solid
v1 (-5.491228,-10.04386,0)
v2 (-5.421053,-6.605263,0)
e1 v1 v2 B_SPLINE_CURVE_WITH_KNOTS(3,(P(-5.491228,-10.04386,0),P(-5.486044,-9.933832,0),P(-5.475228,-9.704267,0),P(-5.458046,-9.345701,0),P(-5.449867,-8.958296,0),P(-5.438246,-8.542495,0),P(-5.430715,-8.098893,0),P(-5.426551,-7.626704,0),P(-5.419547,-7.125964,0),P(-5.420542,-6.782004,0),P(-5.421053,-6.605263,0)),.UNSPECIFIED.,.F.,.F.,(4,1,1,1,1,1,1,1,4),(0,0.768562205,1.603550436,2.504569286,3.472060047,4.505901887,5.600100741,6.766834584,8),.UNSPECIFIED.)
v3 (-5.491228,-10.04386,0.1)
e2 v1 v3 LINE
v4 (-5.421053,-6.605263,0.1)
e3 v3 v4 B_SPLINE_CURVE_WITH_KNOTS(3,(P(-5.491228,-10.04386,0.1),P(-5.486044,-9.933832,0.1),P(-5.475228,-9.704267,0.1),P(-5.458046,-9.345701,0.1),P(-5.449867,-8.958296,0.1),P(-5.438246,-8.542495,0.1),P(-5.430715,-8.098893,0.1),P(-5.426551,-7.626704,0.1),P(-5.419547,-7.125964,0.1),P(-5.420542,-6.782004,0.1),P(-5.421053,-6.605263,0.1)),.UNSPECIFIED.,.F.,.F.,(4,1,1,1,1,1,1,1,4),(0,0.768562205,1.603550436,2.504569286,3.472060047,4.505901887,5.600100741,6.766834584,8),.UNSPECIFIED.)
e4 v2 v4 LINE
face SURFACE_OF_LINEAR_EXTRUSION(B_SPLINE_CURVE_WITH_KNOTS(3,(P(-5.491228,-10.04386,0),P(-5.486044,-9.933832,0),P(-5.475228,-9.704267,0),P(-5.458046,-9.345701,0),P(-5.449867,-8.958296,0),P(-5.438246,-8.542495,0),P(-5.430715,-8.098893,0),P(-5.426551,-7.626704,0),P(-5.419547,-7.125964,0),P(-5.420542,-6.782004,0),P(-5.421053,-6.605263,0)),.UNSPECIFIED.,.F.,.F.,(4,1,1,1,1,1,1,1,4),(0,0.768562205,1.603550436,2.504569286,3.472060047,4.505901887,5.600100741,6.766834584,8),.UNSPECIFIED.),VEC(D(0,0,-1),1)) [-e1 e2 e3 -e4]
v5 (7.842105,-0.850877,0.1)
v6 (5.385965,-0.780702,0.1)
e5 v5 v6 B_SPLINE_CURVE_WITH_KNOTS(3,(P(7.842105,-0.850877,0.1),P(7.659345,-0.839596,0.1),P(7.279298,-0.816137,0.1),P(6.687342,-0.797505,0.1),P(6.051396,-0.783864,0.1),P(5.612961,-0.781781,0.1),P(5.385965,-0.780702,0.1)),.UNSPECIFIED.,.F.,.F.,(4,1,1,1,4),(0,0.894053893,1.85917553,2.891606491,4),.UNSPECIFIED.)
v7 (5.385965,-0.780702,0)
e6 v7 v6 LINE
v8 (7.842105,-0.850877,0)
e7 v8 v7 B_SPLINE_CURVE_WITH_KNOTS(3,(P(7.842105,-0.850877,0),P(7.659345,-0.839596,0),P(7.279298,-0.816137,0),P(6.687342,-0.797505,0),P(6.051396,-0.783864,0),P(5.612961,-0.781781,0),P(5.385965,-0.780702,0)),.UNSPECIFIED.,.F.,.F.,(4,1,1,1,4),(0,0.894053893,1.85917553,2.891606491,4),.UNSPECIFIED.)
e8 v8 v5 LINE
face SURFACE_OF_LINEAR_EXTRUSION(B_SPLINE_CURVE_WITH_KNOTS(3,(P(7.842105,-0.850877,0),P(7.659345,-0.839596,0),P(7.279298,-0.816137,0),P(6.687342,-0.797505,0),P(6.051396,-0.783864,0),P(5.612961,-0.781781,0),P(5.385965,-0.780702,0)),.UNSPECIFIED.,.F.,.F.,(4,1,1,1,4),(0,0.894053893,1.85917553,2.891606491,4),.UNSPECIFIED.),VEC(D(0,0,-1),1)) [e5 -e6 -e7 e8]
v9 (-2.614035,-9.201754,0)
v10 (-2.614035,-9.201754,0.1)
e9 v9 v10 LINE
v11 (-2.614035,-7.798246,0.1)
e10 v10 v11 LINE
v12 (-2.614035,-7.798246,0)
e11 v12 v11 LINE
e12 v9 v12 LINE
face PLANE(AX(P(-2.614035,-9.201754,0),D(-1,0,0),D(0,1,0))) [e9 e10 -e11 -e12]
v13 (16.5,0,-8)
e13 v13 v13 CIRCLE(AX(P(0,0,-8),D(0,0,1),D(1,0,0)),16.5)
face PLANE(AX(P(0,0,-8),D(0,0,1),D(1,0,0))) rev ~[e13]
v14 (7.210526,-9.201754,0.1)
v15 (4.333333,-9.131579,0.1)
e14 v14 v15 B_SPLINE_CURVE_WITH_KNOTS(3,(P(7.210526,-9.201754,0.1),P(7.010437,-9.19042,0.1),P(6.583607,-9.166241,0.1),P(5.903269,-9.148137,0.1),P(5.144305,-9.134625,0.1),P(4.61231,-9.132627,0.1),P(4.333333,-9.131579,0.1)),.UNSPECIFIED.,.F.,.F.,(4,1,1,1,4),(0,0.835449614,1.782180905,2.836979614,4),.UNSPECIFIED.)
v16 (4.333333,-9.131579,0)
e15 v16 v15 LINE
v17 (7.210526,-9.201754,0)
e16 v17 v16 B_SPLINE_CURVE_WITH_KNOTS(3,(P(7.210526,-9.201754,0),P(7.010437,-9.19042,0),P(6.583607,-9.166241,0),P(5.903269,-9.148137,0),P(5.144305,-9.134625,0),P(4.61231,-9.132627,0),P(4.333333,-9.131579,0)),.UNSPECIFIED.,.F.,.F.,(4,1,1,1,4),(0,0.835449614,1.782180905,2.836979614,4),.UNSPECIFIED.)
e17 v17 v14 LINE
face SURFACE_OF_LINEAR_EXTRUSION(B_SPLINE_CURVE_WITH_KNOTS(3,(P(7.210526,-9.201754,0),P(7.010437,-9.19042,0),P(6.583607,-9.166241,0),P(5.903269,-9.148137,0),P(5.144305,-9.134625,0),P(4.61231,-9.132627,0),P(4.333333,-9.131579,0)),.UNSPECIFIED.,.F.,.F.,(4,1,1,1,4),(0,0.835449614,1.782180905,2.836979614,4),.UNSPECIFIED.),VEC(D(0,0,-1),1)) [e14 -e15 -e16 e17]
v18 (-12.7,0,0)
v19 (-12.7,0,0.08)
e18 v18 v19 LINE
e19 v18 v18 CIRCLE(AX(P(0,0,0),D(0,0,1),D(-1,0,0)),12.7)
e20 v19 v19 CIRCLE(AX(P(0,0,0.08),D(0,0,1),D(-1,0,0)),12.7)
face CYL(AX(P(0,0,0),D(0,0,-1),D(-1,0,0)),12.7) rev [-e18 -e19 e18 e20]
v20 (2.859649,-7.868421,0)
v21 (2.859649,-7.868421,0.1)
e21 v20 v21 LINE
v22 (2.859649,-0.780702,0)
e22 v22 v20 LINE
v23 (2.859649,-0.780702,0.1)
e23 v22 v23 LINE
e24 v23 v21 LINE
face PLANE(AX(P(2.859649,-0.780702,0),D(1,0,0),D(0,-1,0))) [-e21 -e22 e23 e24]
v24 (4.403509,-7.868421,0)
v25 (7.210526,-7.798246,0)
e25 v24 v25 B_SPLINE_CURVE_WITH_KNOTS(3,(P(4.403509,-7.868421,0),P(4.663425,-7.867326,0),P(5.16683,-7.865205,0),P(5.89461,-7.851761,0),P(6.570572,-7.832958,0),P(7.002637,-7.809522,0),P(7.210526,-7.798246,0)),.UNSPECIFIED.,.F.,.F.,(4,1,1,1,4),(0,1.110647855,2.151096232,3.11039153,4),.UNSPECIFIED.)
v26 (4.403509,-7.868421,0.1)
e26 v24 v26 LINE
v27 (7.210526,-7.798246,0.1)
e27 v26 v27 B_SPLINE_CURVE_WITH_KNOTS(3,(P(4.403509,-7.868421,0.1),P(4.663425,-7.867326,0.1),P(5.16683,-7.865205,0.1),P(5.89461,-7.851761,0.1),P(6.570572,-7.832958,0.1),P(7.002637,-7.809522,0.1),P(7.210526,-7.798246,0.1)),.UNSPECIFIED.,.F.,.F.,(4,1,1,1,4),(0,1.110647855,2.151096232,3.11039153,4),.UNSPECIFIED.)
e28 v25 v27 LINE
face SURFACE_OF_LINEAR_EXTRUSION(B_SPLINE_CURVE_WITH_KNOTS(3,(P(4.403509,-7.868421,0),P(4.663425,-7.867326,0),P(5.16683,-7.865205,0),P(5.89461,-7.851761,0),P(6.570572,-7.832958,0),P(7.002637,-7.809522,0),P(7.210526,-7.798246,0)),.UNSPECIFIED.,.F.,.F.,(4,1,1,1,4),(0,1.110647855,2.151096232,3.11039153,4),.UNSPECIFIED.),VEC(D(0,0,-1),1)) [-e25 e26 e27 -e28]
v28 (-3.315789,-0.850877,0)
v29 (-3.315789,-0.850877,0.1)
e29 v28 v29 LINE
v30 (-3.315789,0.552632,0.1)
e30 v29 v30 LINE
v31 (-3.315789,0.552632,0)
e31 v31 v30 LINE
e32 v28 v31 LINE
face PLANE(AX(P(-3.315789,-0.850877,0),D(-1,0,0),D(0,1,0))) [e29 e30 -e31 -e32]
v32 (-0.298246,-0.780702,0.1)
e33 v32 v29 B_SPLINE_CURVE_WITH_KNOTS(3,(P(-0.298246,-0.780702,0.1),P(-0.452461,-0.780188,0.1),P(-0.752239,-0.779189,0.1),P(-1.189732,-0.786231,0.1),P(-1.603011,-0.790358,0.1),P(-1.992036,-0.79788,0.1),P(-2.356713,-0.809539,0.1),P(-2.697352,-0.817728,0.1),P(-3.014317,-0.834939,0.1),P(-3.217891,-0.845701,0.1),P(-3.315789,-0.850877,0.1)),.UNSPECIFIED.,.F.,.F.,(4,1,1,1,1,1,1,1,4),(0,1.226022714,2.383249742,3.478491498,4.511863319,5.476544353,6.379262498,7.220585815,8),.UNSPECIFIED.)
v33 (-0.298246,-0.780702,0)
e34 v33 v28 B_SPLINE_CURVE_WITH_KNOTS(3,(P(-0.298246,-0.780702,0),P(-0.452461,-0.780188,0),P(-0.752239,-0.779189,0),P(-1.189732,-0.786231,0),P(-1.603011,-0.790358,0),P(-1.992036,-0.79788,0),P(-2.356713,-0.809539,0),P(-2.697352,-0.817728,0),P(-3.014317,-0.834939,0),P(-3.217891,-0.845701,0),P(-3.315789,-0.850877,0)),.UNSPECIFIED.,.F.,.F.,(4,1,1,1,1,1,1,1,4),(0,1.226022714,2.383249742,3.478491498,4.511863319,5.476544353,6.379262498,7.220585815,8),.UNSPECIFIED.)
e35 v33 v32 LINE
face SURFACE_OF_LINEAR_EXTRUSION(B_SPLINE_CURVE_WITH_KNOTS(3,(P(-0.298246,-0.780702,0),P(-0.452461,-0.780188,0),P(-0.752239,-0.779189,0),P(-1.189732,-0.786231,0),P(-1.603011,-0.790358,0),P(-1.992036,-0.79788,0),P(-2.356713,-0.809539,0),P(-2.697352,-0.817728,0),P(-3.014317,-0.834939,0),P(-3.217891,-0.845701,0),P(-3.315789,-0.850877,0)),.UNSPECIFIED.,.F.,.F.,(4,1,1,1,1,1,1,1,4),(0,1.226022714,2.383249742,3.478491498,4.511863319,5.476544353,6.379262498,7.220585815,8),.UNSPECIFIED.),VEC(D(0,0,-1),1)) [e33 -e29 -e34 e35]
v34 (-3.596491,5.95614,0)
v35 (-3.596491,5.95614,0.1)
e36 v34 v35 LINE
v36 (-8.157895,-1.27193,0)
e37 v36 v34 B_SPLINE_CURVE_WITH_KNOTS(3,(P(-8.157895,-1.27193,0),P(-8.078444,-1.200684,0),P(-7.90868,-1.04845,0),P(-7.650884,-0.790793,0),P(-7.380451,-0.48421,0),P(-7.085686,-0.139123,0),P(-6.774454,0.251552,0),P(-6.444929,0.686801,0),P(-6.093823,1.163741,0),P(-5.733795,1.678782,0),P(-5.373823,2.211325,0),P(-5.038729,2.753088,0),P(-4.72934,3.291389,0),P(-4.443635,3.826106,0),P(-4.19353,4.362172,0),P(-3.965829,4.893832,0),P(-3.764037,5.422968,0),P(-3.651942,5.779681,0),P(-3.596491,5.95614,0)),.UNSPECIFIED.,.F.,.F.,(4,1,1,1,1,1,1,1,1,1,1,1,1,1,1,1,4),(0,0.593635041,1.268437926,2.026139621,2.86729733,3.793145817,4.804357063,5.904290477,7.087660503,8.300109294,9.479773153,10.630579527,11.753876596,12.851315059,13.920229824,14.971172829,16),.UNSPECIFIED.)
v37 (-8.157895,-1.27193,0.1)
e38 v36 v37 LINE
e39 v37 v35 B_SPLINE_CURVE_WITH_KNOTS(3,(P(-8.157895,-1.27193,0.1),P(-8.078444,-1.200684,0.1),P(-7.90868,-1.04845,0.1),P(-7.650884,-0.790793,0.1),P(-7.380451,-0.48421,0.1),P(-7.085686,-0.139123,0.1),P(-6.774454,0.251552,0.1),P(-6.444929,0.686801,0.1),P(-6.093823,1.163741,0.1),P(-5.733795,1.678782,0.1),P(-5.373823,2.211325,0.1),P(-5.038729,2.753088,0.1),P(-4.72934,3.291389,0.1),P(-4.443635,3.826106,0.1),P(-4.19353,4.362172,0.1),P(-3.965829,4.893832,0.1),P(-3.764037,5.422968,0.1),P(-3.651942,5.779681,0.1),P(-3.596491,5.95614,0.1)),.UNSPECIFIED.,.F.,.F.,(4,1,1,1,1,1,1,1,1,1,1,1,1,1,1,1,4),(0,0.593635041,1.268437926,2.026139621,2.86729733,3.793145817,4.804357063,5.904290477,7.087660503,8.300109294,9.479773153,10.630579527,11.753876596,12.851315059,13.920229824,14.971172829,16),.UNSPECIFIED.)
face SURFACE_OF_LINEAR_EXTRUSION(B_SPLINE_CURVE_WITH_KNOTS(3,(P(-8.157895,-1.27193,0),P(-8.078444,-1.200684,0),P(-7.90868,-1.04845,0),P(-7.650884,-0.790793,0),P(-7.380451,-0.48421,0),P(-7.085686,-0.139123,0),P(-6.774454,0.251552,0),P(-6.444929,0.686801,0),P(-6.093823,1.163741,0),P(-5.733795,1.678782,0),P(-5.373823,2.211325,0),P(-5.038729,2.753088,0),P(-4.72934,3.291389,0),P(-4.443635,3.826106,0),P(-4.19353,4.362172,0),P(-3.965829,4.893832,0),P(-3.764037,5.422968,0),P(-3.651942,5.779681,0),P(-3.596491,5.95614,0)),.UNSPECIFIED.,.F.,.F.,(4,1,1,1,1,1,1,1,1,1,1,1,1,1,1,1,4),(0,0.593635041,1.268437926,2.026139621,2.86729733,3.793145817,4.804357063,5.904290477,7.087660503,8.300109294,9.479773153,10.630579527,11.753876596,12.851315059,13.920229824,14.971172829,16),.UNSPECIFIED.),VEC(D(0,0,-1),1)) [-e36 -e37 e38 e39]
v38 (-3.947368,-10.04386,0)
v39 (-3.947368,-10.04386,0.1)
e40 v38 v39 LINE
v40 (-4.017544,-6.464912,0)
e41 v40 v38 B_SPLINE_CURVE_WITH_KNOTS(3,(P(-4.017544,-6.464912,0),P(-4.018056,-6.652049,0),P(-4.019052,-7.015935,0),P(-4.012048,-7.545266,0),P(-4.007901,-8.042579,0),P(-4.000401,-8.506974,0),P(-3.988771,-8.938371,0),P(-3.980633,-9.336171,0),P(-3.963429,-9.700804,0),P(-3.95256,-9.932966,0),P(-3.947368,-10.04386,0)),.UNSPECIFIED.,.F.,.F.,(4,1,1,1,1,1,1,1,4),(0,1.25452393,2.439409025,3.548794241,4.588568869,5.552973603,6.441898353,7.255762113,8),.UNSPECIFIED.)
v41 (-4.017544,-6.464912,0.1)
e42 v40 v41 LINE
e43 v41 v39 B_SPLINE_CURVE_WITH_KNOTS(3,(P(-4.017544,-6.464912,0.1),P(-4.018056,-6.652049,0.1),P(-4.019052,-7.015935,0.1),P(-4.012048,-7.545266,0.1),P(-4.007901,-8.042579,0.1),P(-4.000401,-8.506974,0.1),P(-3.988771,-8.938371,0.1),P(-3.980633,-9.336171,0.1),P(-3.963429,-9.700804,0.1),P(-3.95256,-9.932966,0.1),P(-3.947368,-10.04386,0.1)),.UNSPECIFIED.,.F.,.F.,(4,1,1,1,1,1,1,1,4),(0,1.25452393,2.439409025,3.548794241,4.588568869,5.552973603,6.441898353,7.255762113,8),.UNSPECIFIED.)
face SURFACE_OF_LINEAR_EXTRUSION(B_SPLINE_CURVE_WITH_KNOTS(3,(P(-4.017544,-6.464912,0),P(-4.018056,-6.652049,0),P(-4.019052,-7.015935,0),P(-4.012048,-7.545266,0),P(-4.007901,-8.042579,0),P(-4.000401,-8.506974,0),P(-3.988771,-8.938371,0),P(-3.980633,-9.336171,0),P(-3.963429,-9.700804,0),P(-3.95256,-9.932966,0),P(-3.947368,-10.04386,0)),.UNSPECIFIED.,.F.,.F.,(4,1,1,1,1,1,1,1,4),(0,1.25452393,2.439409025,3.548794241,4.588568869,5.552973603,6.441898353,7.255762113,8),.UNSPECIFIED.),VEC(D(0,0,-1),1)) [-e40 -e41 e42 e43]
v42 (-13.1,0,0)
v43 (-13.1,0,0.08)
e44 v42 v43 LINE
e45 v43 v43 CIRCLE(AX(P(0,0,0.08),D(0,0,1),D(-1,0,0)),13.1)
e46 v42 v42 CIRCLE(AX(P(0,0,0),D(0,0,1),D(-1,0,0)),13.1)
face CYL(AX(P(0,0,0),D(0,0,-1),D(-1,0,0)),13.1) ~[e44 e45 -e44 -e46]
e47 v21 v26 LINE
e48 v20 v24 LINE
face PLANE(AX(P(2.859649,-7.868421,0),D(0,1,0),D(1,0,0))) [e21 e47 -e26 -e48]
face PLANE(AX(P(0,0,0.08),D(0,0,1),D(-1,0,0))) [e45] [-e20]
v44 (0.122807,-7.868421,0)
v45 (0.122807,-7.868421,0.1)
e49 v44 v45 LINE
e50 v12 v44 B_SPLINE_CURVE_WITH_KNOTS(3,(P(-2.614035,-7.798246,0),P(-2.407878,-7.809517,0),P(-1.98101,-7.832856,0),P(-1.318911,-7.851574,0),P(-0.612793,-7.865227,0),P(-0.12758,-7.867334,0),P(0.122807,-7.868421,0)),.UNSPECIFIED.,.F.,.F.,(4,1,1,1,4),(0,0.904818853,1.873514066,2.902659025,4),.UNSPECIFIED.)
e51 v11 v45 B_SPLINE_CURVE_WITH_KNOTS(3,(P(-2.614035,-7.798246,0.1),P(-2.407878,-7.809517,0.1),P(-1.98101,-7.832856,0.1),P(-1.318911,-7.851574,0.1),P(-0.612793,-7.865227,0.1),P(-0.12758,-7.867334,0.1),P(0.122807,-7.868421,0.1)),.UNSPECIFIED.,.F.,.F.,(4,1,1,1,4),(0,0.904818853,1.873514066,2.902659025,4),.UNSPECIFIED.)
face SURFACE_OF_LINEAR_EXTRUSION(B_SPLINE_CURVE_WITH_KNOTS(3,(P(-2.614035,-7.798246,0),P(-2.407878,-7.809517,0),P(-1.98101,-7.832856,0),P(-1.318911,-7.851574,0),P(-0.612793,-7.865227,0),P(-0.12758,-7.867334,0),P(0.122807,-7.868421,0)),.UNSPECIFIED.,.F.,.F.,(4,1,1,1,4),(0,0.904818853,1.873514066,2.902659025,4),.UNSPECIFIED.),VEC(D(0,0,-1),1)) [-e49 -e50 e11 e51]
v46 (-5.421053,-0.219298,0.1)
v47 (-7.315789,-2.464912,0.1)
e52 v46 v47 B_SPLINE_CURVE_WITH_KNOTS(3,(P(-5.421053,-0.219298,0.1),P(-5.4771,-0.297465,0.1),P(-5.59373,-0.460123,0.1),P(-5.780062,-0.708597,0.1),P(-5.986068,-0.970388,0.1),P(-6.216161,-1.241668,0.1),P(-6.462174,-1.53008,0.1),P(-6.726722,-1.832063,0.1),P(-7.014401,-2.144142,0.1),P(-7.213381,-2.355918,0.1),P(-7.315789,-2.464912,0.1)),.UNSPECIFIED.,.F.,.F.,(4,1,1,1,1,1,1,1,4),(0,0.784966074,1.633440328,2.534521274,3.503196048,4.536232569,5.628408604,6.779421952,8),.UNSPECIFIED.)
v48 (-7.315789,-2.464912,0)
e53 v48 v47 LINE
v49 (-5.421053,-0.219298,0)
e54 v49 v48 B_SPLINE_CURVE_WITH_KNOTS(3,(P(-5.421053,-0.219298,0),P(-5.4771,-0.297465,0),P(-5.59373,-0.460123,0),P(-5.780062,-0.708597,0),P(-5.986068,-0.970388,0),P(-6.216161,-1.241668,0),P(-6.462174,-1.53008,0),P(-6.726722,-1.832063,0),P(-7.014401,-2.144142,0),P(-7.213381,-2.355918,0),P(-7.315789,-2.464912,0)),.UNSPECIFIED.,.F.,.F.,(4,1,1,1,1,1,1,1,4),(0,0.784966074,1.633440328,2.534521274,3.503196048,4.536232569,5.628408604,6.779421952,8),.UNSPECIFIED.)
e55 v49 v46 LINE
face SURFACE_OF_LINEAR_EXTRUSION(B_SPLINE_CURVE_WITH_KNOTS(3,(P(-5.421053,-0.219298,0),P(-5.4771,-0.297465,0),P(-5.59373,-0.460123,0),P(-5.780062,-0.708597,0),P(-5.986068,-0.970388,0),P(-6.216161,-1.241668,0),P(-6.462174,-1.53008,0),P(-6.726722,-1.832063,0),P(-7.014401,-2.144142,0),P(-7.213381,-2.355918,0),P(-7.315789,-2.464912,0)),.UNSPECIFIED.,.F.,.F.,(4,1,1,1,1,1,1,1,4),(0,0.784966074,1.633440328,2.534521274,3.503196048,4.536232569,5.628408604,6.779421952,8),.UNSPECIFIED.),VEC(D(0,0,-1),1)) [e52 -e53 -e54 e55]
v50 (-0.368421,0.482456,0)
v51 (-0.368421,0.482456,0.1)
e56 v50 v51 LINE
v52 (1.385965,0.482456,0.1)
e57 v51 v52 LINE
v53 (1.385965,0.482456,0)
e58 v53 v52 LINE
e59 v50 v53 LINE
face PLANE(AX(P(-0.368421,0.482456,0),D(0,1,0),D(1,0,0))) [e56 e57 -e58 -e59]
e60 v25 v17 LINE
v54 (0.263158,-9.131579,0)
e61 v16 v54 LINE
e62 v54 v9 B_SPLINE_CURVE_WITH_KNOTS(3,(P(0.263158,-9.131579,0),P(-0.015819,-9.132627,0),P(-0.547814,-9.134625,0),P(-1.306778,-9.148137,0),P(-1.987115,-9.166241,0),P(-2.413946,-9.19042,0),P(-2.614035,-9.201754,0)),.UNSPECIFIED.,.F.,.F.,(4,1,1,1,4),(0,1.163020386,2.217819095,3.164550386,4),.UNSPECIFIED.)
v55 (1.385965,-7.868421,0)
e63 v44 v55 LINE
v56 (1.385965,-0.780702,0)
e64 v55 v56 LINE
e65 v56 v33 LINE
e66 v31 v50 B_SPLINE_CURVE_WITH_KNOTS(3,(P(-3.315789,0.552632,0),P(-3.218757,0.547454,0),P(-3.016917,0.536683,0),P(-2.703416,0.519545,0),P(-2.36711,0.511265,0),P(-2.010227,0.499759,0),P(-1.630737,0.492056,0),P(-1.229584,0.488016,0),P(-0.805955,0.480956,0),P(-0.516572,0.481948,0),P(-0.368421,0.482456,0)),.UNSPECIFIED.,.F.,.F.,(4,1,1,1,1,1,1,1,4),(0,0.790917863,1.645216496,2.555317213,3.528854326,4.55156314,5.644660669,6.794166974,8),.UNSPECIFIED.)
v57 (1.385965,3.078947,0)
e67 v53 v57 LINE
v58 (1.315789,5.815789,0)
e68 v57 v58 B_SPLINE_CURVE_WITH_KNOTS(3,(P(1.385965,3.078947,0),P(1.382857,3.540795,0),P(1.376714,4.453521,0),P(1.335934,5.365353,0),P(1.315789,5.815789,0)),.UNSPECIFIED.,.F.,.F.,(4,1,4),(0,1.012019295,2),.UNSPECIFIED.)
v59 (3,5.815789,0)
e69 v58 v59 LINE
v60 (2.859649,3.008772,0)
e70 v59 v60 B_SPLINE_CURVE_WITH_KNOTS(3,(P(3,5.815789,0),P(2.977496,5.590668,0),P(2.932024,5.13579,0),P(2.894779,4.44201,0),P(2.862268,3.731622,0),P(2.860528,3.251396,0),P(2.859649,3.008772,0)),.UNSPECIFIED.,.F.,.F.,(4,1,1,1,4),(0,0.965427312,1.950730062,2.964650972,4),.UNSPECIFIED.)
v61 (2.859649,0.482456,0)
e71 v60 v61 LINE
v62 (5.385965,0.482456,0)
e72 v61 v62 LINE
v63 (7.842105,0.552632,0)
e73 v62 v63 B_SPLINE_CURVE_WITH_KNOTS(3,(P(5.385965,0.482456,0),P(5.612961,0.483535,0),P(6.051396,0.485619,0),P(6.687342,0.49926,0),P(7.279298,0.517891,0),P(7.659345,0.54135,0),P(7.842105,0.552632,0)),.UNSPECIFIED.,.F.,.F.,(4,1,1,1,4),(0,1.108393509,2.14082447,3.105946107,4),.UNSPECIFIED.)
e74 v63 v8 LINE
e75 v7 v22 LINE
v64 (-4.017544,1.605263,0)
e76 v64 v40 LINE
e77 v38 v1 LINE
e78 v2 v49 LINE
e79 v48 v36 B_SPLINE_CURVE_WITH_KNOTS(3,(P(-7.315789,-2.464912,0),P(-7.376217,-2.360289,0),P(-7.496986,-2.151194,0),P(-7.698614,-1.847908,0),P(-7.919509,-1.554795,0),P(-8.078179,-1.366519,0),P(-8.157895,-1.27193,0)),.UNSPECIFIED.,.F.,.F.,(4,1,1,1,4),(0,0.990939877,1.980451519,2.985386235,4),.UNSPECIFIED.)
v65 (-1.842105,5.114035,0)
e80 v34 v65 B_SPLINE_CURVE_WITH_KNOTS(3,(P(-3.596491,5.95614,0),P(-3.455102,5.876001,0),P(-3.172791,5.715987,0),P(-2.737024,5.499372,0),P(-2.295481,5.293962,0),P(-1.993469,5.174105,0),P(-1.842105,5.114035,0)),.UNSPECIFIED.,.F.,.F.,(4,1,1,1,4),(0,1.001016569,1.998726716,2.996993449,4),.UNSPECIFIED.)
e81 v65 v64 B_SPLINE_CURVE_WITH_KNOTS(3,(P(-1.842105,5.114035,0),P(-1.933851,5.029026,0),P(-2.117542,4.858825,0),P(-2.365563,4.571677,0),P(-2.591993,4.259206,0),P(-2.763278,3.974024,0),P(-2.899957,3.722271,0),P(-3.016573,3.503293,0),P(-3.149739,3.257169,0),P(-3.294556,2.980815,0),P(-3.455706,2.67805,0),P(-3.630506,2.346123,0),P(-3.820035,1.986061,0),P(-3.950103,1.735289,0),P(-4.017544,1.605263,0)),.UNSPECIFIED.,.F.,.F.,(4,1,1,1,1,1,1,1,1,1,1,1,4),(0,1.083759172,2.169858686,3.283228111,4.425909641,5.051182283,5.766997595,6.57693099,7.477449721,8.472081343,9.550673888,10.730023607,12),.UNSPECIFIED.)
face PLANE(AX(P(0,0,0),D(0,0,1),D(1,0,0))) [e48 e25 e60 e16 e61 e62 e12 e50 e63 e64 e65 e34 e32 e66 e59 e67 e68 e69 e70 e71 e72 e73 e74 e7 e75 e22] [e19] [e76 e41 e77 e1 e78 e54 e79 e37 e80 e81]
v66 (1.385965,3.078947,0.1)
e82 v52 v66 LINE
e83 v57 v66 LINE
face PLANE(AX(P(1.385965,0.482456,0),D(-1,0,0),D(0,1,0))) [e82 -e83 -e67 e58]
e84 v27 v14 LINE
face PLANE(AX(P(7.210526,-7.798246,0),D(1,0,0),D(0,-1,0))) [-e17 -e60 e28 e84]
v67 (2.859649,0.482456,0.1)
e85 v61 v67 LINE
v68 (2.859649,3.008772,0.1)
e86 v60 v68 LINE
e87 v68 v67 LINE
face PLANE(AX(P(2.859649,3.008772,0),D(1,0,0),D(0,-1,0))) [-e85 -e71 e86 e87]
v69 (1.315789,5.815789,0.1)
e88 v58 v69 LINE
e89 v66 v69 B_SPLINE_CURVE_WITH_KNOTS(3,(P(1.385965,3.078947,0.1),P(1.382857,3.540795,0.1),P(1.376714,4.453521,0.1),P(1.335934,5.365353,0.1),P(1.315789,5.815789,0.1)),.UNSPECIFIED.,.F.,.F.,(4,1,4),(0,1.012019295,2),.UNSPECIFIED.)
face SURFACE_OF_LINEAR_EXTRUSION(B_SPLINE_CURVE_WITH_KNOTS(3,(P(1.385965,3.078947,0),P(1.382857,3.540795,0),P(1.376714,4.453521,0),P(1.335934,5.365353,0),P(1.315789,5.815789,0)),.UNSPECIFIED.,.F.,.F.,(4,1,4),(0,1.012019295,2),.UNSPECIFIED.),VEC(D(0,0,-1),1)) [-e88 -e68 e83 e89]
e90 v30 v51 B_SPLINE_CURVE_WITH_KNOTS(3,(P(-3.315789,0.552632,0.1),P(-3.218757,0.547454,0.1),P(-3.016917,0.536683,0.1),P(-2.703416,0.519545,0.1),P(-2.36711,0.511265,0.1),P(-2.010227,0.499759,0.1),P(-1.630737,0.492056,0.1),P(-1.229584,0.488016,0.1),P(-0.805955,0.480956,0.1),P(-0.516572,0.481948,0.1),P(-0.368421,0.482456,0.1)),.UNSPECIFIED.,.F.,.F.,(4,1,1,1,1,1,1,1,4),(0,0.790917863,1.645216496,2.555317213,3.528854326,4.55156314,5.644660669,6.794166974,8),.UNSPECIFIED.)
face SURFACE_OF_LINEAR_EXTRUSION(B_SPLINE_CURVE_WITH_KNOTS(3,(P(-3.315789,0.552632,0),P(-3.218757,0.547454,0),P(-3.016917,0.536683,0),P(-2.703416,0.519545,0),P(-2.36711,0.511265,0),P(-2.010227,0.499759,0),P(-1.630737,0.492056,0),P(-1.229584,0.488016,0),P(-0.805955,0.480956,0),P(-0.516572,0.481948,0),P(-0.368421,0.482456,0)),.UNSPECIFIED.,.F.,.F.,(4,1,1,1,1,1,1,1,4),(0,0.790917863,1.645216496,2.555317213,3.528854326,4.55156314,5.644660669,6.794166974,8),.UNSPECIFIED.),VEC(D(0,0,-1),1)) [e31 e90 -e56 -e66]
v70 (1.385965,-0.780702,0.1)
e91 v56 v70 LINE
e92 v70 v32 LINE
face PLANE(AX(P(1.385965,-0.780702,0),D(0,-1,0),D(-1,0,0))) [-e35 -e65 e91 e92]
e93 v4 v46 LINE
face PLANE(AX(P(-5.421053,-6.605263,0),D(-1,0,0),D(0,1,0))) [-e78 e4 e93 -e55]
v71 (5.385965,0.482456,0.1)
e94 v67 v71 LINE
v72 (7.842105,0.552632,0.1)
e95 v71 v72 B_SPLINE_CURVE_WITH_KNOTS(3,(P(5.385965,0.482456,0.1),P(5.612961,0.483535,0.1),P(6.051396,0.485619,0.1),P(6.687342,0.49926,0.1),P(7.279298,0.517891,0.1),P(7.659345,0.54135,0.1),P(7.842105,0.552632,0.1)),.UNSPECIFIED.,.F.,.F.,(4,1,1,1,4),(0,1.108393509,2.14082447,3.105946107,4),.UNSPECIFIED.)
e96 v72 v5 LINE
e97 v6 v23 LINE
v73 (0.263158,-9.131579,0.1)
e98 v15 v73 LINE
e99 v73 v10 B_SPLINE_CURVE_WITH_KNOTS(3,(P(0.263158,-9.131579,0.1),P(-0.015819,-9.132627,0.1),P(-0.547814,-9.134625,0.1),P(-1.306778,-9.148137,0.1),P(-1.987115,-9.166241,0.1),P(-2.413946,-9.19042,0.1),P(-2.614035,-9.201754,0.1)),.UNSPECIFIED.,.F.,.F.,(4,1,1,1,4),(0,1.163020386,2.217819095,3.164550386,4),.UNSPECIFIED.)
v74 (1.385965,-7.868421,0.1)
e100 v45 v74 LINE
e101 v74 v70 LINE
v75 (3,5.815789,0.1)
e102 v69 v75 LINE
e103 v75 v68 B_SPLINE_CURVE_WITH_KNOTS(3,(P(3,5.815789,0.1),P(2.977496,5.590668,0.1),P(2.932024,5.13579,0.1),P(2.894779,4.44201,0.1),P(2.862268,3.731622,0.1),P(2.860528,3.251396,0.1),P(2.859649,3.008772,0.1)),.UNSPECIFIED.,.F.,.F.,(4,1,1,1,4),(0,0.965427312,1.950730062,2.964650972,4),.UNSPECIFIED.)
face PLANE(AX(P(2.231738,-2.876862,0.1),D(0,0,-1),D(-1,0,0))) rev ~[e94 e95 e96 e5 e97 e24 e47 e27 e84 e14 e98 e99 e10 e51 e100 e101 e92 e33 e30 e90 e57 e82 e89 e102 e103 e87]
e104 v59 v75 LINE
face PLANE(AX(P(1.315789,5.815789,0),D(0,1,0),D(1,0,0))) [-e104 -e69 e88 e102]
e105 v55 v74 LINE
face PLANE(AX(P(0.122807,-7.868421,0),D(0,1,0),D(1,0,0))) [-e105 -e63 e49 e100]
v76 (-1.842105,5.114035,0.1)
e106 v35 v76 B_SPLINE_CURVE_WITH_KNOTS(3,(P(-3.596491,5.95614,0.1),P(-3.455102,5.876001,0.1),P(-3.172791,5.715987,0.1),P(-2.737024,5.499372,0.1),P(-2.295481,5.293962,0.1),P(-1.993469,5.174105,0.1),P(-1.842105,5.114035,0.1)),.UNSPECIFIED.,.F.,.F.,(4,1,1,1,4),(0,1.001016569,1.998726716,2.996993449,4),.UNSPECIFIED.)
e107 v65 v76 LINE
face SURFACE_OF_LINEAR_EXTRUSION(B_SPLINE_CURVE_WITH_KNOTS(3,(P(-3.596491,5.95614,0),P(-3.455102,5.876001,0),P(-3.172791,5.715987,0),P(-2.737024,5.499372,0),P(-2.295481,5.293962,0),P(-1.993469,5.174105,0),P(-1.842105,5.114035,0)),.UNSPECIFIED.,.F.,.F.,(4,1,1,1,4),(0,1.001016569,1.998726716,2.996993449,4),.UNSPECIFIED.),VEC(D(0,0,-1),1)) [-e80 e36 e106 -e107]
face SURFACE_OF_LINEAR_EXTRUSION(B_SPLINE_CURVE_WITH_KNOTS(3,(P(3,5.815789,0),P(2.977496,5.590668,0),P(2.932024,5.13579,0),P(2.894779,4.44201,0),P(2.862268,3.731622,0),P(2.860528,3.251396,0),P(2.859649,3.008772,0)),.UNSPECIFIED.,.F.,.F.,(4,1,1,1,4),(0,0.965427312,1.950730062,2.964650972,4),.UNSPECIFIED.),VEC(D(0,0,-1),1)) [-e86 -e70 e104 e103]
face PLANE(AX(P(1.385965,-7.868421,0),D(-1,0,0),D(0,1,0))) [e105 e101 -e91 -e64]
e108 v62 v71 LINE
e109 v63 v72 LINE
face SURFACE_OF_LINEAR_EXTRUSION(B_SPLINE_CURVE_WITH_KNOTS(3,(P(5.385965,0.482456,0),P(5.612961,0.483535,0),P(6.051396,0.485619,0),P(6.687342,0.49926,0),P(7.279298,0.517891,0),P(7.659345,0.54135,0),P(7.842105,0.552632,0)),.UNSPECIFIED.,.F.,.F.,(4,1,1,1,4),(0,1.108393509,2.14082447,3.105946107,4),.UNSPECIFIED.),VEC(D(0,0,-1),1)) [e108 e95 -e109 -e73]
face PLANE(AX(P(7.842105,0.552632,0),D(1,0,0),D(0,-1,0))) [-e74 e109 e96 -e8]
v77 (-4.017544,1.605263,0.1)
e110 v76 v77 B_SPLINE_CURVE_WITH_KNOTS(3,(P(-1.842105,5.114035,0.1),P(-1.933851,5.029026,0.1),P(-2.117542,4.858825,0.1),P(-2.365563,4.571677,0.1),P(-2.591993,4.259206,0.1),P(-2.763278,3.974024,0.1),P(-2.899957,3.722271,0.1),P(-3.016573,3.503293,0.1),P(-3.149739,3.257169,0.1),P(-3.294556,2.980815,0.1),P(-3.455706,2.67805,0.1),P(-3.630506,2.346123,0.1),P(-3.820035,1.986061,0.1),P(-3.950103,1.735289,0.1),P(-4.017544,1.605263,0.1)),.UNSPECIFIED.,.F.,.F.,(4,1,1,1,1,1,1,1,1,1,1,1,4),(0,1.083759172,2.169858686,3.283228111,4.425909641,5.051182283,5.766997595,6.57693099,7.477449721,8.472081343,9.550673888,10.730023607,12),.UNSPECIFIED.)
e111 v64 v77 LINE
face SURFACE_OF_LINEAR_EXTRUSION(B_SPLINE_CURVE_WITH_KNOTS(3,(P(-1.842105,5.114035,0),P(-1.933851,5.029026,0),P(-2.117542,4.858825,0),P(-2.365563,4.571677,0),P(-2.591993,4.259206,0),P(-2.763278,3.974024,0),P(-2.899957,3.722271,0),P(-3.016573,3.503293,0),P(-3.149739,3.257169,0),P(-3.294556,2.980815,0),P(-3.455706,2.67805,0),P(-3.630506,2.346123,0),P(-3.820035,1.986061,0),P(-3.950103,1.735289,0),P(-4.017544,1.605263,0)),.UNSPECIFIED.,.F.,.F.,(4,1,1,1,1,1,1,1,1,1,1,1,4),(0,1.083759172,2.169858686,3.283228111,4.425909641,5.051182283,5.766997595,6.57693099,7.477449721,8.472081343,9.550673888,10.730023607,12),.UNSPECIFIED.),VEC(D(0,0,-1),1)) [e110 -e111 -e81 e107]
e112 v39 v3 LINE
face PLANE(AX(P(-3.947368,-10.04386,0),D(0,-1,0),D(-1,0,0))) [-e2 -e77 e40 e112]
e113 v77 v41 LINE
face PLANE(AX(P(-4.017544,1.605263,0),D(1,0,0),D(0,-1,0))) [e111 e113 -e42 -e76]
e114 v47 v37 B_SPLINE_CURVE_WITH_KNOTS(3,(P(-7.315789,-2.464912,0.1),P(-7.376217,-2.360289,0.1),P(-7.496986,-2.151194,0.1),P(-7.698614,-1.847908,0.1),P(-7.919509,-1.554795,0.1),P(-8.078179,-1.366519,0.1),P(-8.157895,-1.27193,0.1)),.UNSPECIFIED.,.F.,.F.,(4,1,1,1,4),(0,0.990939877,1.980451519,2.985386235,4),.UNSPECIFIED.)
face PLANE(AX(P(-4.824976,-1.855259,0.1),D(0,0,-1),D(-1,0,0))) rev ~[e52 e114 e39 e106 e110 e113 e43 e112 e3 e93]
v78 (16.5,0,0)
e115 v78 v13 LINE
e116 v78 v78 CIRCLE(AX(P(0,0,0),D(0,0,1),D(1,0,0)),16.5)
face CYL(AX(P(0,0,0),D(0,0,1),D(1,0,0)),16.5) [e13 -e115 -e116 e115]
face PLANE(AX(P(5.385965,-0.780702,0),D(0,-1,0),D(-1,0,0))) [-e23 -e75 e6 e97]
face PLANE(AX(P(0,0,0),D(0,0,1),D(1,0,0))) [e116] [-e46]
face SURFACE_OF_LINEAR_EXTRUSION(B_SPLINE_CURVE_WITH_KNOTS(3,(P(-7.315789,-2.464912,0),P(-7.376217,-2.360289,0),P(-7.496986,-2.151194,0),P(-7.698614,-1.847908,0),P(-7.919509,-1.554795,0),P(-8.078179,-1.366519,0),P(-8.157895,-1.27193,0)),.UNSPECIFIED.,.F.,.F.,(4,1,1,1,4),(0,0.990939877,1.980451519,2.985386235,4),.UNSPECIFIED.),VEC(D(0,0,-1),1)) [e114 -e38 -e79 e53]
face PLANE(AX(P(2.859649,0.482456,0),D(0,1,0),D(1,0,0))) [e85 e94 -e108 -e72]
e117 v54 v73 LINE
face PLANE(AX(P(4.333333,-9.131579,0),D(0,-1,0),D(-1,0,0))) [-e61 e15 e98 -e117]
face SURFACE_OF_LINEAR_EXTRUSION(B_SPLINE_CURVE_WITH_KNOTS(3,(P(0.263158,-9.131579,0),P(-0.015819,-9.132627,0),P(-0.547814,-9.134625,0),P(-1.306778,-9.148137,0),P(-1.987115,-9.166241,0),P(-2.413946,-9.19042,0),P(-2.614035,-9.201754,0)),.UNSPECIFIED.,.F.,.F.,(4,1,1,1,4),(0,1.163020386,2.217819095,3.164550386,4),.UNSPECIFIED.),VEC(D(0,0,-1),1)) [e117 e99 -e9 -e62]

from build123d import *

# Parameters (mm, degrees)
SKETCH_1_R               = 16.5
DIAMETER33_HEIGHT8_DEPTH = 8
CHARACTER_DEPTH          = 0.1
SKETCH_3_R               = 13.1
SKETCH_3_R_2             = 12.7
INK_RING_DEPTH           = 0.08


with BuildPart() as part:
    # 草图1 → Diameter33_Height8 (new body)
    with BuildSketch(Plane.XY):
        Circle(SKETCH_1_R)
    extrude(amount=-DIAMETER33_HEIGHT8_DEPTH)

    # 草图2 → Character_仕 (add)
    with BuildSketch(Plane.XY):
        with BuildLine():
            Line((1.385964912, 0.48245614), (1.385964912, 3.078947368))
            add(Edge.make_bspline(
                [(1.385964912, 3.078947368), (1.382856556, 3.540795331), (1.376713677, 4.453520939), (1.335934161, 5.365353156), (1.315789474, 5.815789474)],
                knots=[0, 0, 0, 0, 1.012019295, 2, 2, 2, 2], degree=3))
            Line((1.315789474, 5.815789474), (3, 5.815789474))
            add(Edge.make_bspline(
                [(3, 5.815789474), (2.977495606, 5.590667791), (2.932023515, 5.135789802), (2.894778649, 4.442009997), (2.862268379, 3.73162247), (2.860528273, 3.251395934), (2.859649123, 3.00877193)],
                knots=[0, 0, 0, 0, 0.965427312, 1.950730062, 2.964650972, 4, 4, 4, 4], degree=3))
            Line((2.859649123, 3.00877193), (2.859649123, 0.48245614))
            Line((2.859649123, 0.48245614), (5.385964912, 0.48245614))
            add(Edge.make_bspline(
                [(5.385964912, 0.48245614), (5.612960978, 0.48353494), (6.051396179, 0.485618604), (6.68734214, 0.499259504), (7.279297852, 0.517890937), (7.659345282, 0.541350279), (7.842105263, 0.552631579)],
                knots=[0, 0, 0, 0, 1.108393509, 2.14082447, 3.105946107, 4, 4, 4, 4], degree=3))
            Line((7.842105263, 0.552631579), (7.842105263, -0.850877193))
            add(Edge.make_bspline(
                [(7.842105263, -0.850877193), (7.659345282, -0.839595893), (7.279297852, -0.816136551), (6.68734214, -0.797505118), (6.051396179, -0.783864218), (5.612960978, -0.781780554), (5.385964912, -0.780701754)],
                knots=[0, 0, 0, 0, 0.894053893, 1.85917553, 2.891606491, 4, 4, 4, 4], degree=3))
            Line((5.385964912, -0.780701754), (2.859649123, -0.780701754))
            Line((2.859649123, -0.780701754), (2.859649123, -7.868421053))
            Line((2.859649123, -7.868421053), (4.403508772, -7.868421053))
            add(Edge.make_bspline(
                [(4.403508772, -7.868421053), (4.663425226, -7.867326084), (5.166829886, -7.865205357), (5.894610336, -7.851761208), (6.570572064, -7.832958173), (7.00263653, -7.809522024), (7.210526316, -7.798245614)],
                knots=[0, 0, 0, 0, 1.110647855, 2.151096232, 3.11039153, 4, 4, 4, 4], degree=3))
            Line((7.210526316, -7.798245614), (7.210526316, -9.201754386))
            add(Edge.make_bspline(
                [(7.210526316, -9.201754386), (7.010437031, -9.190419998), (6.583606619, -9.166241483), (5.90326924, -9.148137401), (5.144305253, -9.134624919), (4.612310457, -9.132626772), (4.333333333, -9.131578947)],
                knots=[0, 0, 0, 0, 0.835449614, 1.782180905, 2.836979614, 4, 4, 4, 4], degree=3))
            Line((4.333333333, -9.131578947), (0.263157895, -9.131578947))
            add(Edge.make_bspline(
                [(0.263157895, -9.131578947), (-0.015819229, -9.132626772), (-0.547814025, -9.134624919), (-1.306778012, -9.148137401), (-1.987115391, -9.166241483), (-2.413945803, -9.190419998), (-2.614035088, -9.201754386)],
                knots=[0, 0, 0, 0, 1.163020386, 2.217819095, 3.164550386, 4, 4, 4, 4], degree=3))
            Line((-2.614035088, -9.201754386), (-2.614035088, -7.798245614))
            add(Edge.make_bspline(
                [(-2.614035088, -7.798245614), (-2.407878143, -7.809517208), (-1.981010451, -7.832856124), (-1.318910587, -7.851574268), (-0.61279286, -7.865227274), (-0.127579839, -7.86733394), (0.122807018, -7.868421053)],
                knots=[0, 0, 0, 0, 0.904818853, 1.873514066, 2.902659025, 4, 4, 4, 4], degree=3))
            Line((0.122807018, -7.868421053), (1.385964912, -7.868421053))
            Line((1.385964912, -7.868421053), (1.385964912, -0.780701754))
            Line((1.385964912, -0.780701754), (-0.298245614, -0.780701754))
            add(Edge.make_bspline(
                [(-0.298245614, -0.780701754), (-0.452461393, -0.780188061), (-0.752239456, -0.7791895), (-1.189731892, -0.786231443), (-1.603011279, -0.790357704), (-1.992035716, -0.797879868), (-2.356713286, -0.809539056), (-2.697351984, -0.817728412), (-3.014316789, -0.834938878), (-3.217890625, -0.845701458), (-3.315789474, -0.850877193)],
                knots=[0, 0, 0, 0, 1.226022714, 2.383249742, 3.478491498, 4.511863319, 5.476544353, 6.379262498, 7.220585815, 8, 8, 8, 8], degree=3))
            Line((-3.315789474, -0.850877193), (-3.315789474, 0.552631579))
            add(Edge.make_bspline(
                [(-3.315789474, 0.552631579), (-3.21875707, 0.547453703), (-3.016916501, 0.536683017), (-2.703415706, 0.519544836), (-2.367110401, 0.511265445), (-2.010227251, 0.49975938), (-1.630736813, 0.492055864), (-1.229584063, 0.488016267), (-0.805954579, 0.480955843), (-0.51657237, 0.481948131), (-0.368421053, 0.48245614)],
                knots=[0, 0, 0, 0, 0.790917863, 1.645216496, 2.555317213, 3.528854326, 4.55156314, 5.644660669, 6.794166974, 8, 8, 8, 8], degree=3))
            Line((-0.368421053, 0.48245614), (1.385964912, 0.48245614))
        make_face()
        with BuildLine():
            add(Edge.make_bspline(
                [(-1.842105263, 5.114035088), (-1.933851435, 5.029026304), (-2.117541902, 4.858825164), (-2.365563333, 4.57167672), (-2.591993254, 4.259206087), (-2.763277727, 3.974023896), (-2.899956693, 3.72227062), (-3.016573333, 3.503293196), (-3.149738899, 3.257168631), (-3.294556387, 2.980814576), (-3.455706316, 2.678049907), (-3.630506142, 2.346123327), (-3.820034881, 1.98606085), (-3.950103328, 1.735288634), (-4.01754386, 1.605263158)],
                knots=[0, 0, 0, 0, 1.083759172, 2.169858686, 3.283228111, 4.425909641, 5.051182283, 5.766997595, 6.57693099, 7.477449721, 8.472081343, 9.550673888, 10.730023607, 12, 12, 12, 12], degree=3))
            Line((-4.01754386, 1.605263158), (-4.01754386, -6.464912281))
            add(Edge.make_bspline(
                [(-4.01754386, -6.464912281), (-4.018056133, -6.65204931), (-4.019052245, -7.015935362), (-4.012047973, -7.545266441), (-4.007901436, -8.042578811), (-4.000400634, -8.506973521), (-3.988771218, -8.938370958), (-3.98063319, -9.336170915), (-3.963429216, -9.700804491), (-3.952560119, -9.932966081), (-3.947368421, -10.043859649)],
                knots=[0, 0, 0, 0, 1.25452393, 2.439409025, 3.548794241, 4.588568869, 5.552973603, 6.441898353, 7.255762113, 8, 8, 8, 8], degree=3))
            Line((-3.947368421, -10.043859649), (-5.49122807, -10.043859649))
            add(Edge.make_bspline(
                [(-5.49122807, -10.043859649), (-5.48604403, -9.933832078), (-5.4752279, -9.704267368), (-5.458045854, -9.34570061), (-5.449866698, -8.958296312), (-5.43824574, -8.54249494), (-5.430714946, -8.098893278), (-5.426551478, -7.626704474), (-5.419547466, -7.12596442), (-5.420541736, -6.782003967), (-5.421052632, -6.605263158)],
                knots=[0, 0, 0, 0, 0.768562205, 1.603550436, 2.504569286, 3.472060047, 4.505901887, 5.600100741, 6.766834584, 8, 8, 8, 8], degree=3))
            Line((-5.421052632, -6.605263158), (-5.421052632, -0.219298246))
            add(Edge.make_bspline(
                [(-5.421052632, -0.219298246), (-5.477100123, -0.297465115), (-5.593729665, -0.460122996), (-5.780061764, -0.708596832), (-5.986068105, -0.970387502), (-6.216160665, -1.241667605), (-6.462173545, -1.53007964), (-6.726721569, -1.832063458), (-7.014400911, -2.14414193), (-7.213381091, -2.355918188), (-7.315789474, -2.464912281)],
                knots=[0, 0, 0, 0, 0.784966074, 1.633440328, 2.534521274, 3.503196048, 4.536232569, 5.628408604, 6.779421952, 8, 8, 8, 8], degree=3))
            add(Edge.make_bspline(
                [(-7.315789474, -2.464912281), (-7.376217454, -2.360289355), (-7.496986321, -2.151194296), (-7.698613752, -1.847907954), (-7.919509238, -1.554794995), (-8.078179419, -1.366518997), (-8.157894737, -1.271929825)],
                knots=[0, 0, 0, 0, 0.990939877, 1.980451519, 2.985386235, 4, 4, 4, 4], degree=3))
            add(Edge.make_bspline(
                [(-8.157894737, -1.271929825), (-8.078444276, -1.200683827), (-7.908680075, -1.048450351), (-7.650883543, -0.790792829), (-7.380450508, -0.484210357), (-7.085685528, -0.139123391), (-6.774453616, 0.251552056), (-6.444928694, 0.686800589), (-6.093822829, 1.163741111), (-5.733795482, 1.678782143), (-5.373823069, 2.211324676), (-5.038729415, 2.753088359), (-4.729340369, 3.291388528), (-4.443634689, 3.826106433), (-4.193529603, 4.362171988), (-3.965829486, 4.893831939), (-3.764036827, 5.42296806), (-3.651942432, 5.779680656), (-3.596491228, 5.956140351)],
                knots=[0, 0, 0, 0, 0.593635041, 1.268437926, 2.026139621, 2.86729733, 3.793145817, 4.804357063, 5.904290477, 7.087660503, 8.300109294, 9.479773153, 10.630579527, 11.753876596, 12.851315059, 13.920229824, 14.971172829, 16, 16, 16, 16], degree=3))
            add(Edge.make_bspline(
                [(-3.596491228, 5.956140351), (-3.455102142, 5.876001082), (-3.172790986, 5.715987251), (-2.737023645, 5.499372043), (-2.295481279, 5.293961951), (-1.99346903, 5.174105332), (-1.842105263, 5.114035088)],
                knots=[0, 0, 0, 0, 1.001016569, 1.998726716, 2.996993449, 4, 4, 4, 4], degree=3))
        make_face()
    extrude(amount=CHARACTER_DEPTH)

    # 草图3 → Ink_ring (add)
    with BuildSketch(Plane.XY):
        with Locations(Location((0, 0, 0), (0, 0, 180))):
            Circle(SKETCH_3_R)
        with Locations(Location((0, 0, 0), (0, 0, 180))):
            Circle(SKETCH_3_R_2, mode=Mode.SUBTRACT)
    extrude(amount=INK_RING_DEPTH)


solid = part.part
